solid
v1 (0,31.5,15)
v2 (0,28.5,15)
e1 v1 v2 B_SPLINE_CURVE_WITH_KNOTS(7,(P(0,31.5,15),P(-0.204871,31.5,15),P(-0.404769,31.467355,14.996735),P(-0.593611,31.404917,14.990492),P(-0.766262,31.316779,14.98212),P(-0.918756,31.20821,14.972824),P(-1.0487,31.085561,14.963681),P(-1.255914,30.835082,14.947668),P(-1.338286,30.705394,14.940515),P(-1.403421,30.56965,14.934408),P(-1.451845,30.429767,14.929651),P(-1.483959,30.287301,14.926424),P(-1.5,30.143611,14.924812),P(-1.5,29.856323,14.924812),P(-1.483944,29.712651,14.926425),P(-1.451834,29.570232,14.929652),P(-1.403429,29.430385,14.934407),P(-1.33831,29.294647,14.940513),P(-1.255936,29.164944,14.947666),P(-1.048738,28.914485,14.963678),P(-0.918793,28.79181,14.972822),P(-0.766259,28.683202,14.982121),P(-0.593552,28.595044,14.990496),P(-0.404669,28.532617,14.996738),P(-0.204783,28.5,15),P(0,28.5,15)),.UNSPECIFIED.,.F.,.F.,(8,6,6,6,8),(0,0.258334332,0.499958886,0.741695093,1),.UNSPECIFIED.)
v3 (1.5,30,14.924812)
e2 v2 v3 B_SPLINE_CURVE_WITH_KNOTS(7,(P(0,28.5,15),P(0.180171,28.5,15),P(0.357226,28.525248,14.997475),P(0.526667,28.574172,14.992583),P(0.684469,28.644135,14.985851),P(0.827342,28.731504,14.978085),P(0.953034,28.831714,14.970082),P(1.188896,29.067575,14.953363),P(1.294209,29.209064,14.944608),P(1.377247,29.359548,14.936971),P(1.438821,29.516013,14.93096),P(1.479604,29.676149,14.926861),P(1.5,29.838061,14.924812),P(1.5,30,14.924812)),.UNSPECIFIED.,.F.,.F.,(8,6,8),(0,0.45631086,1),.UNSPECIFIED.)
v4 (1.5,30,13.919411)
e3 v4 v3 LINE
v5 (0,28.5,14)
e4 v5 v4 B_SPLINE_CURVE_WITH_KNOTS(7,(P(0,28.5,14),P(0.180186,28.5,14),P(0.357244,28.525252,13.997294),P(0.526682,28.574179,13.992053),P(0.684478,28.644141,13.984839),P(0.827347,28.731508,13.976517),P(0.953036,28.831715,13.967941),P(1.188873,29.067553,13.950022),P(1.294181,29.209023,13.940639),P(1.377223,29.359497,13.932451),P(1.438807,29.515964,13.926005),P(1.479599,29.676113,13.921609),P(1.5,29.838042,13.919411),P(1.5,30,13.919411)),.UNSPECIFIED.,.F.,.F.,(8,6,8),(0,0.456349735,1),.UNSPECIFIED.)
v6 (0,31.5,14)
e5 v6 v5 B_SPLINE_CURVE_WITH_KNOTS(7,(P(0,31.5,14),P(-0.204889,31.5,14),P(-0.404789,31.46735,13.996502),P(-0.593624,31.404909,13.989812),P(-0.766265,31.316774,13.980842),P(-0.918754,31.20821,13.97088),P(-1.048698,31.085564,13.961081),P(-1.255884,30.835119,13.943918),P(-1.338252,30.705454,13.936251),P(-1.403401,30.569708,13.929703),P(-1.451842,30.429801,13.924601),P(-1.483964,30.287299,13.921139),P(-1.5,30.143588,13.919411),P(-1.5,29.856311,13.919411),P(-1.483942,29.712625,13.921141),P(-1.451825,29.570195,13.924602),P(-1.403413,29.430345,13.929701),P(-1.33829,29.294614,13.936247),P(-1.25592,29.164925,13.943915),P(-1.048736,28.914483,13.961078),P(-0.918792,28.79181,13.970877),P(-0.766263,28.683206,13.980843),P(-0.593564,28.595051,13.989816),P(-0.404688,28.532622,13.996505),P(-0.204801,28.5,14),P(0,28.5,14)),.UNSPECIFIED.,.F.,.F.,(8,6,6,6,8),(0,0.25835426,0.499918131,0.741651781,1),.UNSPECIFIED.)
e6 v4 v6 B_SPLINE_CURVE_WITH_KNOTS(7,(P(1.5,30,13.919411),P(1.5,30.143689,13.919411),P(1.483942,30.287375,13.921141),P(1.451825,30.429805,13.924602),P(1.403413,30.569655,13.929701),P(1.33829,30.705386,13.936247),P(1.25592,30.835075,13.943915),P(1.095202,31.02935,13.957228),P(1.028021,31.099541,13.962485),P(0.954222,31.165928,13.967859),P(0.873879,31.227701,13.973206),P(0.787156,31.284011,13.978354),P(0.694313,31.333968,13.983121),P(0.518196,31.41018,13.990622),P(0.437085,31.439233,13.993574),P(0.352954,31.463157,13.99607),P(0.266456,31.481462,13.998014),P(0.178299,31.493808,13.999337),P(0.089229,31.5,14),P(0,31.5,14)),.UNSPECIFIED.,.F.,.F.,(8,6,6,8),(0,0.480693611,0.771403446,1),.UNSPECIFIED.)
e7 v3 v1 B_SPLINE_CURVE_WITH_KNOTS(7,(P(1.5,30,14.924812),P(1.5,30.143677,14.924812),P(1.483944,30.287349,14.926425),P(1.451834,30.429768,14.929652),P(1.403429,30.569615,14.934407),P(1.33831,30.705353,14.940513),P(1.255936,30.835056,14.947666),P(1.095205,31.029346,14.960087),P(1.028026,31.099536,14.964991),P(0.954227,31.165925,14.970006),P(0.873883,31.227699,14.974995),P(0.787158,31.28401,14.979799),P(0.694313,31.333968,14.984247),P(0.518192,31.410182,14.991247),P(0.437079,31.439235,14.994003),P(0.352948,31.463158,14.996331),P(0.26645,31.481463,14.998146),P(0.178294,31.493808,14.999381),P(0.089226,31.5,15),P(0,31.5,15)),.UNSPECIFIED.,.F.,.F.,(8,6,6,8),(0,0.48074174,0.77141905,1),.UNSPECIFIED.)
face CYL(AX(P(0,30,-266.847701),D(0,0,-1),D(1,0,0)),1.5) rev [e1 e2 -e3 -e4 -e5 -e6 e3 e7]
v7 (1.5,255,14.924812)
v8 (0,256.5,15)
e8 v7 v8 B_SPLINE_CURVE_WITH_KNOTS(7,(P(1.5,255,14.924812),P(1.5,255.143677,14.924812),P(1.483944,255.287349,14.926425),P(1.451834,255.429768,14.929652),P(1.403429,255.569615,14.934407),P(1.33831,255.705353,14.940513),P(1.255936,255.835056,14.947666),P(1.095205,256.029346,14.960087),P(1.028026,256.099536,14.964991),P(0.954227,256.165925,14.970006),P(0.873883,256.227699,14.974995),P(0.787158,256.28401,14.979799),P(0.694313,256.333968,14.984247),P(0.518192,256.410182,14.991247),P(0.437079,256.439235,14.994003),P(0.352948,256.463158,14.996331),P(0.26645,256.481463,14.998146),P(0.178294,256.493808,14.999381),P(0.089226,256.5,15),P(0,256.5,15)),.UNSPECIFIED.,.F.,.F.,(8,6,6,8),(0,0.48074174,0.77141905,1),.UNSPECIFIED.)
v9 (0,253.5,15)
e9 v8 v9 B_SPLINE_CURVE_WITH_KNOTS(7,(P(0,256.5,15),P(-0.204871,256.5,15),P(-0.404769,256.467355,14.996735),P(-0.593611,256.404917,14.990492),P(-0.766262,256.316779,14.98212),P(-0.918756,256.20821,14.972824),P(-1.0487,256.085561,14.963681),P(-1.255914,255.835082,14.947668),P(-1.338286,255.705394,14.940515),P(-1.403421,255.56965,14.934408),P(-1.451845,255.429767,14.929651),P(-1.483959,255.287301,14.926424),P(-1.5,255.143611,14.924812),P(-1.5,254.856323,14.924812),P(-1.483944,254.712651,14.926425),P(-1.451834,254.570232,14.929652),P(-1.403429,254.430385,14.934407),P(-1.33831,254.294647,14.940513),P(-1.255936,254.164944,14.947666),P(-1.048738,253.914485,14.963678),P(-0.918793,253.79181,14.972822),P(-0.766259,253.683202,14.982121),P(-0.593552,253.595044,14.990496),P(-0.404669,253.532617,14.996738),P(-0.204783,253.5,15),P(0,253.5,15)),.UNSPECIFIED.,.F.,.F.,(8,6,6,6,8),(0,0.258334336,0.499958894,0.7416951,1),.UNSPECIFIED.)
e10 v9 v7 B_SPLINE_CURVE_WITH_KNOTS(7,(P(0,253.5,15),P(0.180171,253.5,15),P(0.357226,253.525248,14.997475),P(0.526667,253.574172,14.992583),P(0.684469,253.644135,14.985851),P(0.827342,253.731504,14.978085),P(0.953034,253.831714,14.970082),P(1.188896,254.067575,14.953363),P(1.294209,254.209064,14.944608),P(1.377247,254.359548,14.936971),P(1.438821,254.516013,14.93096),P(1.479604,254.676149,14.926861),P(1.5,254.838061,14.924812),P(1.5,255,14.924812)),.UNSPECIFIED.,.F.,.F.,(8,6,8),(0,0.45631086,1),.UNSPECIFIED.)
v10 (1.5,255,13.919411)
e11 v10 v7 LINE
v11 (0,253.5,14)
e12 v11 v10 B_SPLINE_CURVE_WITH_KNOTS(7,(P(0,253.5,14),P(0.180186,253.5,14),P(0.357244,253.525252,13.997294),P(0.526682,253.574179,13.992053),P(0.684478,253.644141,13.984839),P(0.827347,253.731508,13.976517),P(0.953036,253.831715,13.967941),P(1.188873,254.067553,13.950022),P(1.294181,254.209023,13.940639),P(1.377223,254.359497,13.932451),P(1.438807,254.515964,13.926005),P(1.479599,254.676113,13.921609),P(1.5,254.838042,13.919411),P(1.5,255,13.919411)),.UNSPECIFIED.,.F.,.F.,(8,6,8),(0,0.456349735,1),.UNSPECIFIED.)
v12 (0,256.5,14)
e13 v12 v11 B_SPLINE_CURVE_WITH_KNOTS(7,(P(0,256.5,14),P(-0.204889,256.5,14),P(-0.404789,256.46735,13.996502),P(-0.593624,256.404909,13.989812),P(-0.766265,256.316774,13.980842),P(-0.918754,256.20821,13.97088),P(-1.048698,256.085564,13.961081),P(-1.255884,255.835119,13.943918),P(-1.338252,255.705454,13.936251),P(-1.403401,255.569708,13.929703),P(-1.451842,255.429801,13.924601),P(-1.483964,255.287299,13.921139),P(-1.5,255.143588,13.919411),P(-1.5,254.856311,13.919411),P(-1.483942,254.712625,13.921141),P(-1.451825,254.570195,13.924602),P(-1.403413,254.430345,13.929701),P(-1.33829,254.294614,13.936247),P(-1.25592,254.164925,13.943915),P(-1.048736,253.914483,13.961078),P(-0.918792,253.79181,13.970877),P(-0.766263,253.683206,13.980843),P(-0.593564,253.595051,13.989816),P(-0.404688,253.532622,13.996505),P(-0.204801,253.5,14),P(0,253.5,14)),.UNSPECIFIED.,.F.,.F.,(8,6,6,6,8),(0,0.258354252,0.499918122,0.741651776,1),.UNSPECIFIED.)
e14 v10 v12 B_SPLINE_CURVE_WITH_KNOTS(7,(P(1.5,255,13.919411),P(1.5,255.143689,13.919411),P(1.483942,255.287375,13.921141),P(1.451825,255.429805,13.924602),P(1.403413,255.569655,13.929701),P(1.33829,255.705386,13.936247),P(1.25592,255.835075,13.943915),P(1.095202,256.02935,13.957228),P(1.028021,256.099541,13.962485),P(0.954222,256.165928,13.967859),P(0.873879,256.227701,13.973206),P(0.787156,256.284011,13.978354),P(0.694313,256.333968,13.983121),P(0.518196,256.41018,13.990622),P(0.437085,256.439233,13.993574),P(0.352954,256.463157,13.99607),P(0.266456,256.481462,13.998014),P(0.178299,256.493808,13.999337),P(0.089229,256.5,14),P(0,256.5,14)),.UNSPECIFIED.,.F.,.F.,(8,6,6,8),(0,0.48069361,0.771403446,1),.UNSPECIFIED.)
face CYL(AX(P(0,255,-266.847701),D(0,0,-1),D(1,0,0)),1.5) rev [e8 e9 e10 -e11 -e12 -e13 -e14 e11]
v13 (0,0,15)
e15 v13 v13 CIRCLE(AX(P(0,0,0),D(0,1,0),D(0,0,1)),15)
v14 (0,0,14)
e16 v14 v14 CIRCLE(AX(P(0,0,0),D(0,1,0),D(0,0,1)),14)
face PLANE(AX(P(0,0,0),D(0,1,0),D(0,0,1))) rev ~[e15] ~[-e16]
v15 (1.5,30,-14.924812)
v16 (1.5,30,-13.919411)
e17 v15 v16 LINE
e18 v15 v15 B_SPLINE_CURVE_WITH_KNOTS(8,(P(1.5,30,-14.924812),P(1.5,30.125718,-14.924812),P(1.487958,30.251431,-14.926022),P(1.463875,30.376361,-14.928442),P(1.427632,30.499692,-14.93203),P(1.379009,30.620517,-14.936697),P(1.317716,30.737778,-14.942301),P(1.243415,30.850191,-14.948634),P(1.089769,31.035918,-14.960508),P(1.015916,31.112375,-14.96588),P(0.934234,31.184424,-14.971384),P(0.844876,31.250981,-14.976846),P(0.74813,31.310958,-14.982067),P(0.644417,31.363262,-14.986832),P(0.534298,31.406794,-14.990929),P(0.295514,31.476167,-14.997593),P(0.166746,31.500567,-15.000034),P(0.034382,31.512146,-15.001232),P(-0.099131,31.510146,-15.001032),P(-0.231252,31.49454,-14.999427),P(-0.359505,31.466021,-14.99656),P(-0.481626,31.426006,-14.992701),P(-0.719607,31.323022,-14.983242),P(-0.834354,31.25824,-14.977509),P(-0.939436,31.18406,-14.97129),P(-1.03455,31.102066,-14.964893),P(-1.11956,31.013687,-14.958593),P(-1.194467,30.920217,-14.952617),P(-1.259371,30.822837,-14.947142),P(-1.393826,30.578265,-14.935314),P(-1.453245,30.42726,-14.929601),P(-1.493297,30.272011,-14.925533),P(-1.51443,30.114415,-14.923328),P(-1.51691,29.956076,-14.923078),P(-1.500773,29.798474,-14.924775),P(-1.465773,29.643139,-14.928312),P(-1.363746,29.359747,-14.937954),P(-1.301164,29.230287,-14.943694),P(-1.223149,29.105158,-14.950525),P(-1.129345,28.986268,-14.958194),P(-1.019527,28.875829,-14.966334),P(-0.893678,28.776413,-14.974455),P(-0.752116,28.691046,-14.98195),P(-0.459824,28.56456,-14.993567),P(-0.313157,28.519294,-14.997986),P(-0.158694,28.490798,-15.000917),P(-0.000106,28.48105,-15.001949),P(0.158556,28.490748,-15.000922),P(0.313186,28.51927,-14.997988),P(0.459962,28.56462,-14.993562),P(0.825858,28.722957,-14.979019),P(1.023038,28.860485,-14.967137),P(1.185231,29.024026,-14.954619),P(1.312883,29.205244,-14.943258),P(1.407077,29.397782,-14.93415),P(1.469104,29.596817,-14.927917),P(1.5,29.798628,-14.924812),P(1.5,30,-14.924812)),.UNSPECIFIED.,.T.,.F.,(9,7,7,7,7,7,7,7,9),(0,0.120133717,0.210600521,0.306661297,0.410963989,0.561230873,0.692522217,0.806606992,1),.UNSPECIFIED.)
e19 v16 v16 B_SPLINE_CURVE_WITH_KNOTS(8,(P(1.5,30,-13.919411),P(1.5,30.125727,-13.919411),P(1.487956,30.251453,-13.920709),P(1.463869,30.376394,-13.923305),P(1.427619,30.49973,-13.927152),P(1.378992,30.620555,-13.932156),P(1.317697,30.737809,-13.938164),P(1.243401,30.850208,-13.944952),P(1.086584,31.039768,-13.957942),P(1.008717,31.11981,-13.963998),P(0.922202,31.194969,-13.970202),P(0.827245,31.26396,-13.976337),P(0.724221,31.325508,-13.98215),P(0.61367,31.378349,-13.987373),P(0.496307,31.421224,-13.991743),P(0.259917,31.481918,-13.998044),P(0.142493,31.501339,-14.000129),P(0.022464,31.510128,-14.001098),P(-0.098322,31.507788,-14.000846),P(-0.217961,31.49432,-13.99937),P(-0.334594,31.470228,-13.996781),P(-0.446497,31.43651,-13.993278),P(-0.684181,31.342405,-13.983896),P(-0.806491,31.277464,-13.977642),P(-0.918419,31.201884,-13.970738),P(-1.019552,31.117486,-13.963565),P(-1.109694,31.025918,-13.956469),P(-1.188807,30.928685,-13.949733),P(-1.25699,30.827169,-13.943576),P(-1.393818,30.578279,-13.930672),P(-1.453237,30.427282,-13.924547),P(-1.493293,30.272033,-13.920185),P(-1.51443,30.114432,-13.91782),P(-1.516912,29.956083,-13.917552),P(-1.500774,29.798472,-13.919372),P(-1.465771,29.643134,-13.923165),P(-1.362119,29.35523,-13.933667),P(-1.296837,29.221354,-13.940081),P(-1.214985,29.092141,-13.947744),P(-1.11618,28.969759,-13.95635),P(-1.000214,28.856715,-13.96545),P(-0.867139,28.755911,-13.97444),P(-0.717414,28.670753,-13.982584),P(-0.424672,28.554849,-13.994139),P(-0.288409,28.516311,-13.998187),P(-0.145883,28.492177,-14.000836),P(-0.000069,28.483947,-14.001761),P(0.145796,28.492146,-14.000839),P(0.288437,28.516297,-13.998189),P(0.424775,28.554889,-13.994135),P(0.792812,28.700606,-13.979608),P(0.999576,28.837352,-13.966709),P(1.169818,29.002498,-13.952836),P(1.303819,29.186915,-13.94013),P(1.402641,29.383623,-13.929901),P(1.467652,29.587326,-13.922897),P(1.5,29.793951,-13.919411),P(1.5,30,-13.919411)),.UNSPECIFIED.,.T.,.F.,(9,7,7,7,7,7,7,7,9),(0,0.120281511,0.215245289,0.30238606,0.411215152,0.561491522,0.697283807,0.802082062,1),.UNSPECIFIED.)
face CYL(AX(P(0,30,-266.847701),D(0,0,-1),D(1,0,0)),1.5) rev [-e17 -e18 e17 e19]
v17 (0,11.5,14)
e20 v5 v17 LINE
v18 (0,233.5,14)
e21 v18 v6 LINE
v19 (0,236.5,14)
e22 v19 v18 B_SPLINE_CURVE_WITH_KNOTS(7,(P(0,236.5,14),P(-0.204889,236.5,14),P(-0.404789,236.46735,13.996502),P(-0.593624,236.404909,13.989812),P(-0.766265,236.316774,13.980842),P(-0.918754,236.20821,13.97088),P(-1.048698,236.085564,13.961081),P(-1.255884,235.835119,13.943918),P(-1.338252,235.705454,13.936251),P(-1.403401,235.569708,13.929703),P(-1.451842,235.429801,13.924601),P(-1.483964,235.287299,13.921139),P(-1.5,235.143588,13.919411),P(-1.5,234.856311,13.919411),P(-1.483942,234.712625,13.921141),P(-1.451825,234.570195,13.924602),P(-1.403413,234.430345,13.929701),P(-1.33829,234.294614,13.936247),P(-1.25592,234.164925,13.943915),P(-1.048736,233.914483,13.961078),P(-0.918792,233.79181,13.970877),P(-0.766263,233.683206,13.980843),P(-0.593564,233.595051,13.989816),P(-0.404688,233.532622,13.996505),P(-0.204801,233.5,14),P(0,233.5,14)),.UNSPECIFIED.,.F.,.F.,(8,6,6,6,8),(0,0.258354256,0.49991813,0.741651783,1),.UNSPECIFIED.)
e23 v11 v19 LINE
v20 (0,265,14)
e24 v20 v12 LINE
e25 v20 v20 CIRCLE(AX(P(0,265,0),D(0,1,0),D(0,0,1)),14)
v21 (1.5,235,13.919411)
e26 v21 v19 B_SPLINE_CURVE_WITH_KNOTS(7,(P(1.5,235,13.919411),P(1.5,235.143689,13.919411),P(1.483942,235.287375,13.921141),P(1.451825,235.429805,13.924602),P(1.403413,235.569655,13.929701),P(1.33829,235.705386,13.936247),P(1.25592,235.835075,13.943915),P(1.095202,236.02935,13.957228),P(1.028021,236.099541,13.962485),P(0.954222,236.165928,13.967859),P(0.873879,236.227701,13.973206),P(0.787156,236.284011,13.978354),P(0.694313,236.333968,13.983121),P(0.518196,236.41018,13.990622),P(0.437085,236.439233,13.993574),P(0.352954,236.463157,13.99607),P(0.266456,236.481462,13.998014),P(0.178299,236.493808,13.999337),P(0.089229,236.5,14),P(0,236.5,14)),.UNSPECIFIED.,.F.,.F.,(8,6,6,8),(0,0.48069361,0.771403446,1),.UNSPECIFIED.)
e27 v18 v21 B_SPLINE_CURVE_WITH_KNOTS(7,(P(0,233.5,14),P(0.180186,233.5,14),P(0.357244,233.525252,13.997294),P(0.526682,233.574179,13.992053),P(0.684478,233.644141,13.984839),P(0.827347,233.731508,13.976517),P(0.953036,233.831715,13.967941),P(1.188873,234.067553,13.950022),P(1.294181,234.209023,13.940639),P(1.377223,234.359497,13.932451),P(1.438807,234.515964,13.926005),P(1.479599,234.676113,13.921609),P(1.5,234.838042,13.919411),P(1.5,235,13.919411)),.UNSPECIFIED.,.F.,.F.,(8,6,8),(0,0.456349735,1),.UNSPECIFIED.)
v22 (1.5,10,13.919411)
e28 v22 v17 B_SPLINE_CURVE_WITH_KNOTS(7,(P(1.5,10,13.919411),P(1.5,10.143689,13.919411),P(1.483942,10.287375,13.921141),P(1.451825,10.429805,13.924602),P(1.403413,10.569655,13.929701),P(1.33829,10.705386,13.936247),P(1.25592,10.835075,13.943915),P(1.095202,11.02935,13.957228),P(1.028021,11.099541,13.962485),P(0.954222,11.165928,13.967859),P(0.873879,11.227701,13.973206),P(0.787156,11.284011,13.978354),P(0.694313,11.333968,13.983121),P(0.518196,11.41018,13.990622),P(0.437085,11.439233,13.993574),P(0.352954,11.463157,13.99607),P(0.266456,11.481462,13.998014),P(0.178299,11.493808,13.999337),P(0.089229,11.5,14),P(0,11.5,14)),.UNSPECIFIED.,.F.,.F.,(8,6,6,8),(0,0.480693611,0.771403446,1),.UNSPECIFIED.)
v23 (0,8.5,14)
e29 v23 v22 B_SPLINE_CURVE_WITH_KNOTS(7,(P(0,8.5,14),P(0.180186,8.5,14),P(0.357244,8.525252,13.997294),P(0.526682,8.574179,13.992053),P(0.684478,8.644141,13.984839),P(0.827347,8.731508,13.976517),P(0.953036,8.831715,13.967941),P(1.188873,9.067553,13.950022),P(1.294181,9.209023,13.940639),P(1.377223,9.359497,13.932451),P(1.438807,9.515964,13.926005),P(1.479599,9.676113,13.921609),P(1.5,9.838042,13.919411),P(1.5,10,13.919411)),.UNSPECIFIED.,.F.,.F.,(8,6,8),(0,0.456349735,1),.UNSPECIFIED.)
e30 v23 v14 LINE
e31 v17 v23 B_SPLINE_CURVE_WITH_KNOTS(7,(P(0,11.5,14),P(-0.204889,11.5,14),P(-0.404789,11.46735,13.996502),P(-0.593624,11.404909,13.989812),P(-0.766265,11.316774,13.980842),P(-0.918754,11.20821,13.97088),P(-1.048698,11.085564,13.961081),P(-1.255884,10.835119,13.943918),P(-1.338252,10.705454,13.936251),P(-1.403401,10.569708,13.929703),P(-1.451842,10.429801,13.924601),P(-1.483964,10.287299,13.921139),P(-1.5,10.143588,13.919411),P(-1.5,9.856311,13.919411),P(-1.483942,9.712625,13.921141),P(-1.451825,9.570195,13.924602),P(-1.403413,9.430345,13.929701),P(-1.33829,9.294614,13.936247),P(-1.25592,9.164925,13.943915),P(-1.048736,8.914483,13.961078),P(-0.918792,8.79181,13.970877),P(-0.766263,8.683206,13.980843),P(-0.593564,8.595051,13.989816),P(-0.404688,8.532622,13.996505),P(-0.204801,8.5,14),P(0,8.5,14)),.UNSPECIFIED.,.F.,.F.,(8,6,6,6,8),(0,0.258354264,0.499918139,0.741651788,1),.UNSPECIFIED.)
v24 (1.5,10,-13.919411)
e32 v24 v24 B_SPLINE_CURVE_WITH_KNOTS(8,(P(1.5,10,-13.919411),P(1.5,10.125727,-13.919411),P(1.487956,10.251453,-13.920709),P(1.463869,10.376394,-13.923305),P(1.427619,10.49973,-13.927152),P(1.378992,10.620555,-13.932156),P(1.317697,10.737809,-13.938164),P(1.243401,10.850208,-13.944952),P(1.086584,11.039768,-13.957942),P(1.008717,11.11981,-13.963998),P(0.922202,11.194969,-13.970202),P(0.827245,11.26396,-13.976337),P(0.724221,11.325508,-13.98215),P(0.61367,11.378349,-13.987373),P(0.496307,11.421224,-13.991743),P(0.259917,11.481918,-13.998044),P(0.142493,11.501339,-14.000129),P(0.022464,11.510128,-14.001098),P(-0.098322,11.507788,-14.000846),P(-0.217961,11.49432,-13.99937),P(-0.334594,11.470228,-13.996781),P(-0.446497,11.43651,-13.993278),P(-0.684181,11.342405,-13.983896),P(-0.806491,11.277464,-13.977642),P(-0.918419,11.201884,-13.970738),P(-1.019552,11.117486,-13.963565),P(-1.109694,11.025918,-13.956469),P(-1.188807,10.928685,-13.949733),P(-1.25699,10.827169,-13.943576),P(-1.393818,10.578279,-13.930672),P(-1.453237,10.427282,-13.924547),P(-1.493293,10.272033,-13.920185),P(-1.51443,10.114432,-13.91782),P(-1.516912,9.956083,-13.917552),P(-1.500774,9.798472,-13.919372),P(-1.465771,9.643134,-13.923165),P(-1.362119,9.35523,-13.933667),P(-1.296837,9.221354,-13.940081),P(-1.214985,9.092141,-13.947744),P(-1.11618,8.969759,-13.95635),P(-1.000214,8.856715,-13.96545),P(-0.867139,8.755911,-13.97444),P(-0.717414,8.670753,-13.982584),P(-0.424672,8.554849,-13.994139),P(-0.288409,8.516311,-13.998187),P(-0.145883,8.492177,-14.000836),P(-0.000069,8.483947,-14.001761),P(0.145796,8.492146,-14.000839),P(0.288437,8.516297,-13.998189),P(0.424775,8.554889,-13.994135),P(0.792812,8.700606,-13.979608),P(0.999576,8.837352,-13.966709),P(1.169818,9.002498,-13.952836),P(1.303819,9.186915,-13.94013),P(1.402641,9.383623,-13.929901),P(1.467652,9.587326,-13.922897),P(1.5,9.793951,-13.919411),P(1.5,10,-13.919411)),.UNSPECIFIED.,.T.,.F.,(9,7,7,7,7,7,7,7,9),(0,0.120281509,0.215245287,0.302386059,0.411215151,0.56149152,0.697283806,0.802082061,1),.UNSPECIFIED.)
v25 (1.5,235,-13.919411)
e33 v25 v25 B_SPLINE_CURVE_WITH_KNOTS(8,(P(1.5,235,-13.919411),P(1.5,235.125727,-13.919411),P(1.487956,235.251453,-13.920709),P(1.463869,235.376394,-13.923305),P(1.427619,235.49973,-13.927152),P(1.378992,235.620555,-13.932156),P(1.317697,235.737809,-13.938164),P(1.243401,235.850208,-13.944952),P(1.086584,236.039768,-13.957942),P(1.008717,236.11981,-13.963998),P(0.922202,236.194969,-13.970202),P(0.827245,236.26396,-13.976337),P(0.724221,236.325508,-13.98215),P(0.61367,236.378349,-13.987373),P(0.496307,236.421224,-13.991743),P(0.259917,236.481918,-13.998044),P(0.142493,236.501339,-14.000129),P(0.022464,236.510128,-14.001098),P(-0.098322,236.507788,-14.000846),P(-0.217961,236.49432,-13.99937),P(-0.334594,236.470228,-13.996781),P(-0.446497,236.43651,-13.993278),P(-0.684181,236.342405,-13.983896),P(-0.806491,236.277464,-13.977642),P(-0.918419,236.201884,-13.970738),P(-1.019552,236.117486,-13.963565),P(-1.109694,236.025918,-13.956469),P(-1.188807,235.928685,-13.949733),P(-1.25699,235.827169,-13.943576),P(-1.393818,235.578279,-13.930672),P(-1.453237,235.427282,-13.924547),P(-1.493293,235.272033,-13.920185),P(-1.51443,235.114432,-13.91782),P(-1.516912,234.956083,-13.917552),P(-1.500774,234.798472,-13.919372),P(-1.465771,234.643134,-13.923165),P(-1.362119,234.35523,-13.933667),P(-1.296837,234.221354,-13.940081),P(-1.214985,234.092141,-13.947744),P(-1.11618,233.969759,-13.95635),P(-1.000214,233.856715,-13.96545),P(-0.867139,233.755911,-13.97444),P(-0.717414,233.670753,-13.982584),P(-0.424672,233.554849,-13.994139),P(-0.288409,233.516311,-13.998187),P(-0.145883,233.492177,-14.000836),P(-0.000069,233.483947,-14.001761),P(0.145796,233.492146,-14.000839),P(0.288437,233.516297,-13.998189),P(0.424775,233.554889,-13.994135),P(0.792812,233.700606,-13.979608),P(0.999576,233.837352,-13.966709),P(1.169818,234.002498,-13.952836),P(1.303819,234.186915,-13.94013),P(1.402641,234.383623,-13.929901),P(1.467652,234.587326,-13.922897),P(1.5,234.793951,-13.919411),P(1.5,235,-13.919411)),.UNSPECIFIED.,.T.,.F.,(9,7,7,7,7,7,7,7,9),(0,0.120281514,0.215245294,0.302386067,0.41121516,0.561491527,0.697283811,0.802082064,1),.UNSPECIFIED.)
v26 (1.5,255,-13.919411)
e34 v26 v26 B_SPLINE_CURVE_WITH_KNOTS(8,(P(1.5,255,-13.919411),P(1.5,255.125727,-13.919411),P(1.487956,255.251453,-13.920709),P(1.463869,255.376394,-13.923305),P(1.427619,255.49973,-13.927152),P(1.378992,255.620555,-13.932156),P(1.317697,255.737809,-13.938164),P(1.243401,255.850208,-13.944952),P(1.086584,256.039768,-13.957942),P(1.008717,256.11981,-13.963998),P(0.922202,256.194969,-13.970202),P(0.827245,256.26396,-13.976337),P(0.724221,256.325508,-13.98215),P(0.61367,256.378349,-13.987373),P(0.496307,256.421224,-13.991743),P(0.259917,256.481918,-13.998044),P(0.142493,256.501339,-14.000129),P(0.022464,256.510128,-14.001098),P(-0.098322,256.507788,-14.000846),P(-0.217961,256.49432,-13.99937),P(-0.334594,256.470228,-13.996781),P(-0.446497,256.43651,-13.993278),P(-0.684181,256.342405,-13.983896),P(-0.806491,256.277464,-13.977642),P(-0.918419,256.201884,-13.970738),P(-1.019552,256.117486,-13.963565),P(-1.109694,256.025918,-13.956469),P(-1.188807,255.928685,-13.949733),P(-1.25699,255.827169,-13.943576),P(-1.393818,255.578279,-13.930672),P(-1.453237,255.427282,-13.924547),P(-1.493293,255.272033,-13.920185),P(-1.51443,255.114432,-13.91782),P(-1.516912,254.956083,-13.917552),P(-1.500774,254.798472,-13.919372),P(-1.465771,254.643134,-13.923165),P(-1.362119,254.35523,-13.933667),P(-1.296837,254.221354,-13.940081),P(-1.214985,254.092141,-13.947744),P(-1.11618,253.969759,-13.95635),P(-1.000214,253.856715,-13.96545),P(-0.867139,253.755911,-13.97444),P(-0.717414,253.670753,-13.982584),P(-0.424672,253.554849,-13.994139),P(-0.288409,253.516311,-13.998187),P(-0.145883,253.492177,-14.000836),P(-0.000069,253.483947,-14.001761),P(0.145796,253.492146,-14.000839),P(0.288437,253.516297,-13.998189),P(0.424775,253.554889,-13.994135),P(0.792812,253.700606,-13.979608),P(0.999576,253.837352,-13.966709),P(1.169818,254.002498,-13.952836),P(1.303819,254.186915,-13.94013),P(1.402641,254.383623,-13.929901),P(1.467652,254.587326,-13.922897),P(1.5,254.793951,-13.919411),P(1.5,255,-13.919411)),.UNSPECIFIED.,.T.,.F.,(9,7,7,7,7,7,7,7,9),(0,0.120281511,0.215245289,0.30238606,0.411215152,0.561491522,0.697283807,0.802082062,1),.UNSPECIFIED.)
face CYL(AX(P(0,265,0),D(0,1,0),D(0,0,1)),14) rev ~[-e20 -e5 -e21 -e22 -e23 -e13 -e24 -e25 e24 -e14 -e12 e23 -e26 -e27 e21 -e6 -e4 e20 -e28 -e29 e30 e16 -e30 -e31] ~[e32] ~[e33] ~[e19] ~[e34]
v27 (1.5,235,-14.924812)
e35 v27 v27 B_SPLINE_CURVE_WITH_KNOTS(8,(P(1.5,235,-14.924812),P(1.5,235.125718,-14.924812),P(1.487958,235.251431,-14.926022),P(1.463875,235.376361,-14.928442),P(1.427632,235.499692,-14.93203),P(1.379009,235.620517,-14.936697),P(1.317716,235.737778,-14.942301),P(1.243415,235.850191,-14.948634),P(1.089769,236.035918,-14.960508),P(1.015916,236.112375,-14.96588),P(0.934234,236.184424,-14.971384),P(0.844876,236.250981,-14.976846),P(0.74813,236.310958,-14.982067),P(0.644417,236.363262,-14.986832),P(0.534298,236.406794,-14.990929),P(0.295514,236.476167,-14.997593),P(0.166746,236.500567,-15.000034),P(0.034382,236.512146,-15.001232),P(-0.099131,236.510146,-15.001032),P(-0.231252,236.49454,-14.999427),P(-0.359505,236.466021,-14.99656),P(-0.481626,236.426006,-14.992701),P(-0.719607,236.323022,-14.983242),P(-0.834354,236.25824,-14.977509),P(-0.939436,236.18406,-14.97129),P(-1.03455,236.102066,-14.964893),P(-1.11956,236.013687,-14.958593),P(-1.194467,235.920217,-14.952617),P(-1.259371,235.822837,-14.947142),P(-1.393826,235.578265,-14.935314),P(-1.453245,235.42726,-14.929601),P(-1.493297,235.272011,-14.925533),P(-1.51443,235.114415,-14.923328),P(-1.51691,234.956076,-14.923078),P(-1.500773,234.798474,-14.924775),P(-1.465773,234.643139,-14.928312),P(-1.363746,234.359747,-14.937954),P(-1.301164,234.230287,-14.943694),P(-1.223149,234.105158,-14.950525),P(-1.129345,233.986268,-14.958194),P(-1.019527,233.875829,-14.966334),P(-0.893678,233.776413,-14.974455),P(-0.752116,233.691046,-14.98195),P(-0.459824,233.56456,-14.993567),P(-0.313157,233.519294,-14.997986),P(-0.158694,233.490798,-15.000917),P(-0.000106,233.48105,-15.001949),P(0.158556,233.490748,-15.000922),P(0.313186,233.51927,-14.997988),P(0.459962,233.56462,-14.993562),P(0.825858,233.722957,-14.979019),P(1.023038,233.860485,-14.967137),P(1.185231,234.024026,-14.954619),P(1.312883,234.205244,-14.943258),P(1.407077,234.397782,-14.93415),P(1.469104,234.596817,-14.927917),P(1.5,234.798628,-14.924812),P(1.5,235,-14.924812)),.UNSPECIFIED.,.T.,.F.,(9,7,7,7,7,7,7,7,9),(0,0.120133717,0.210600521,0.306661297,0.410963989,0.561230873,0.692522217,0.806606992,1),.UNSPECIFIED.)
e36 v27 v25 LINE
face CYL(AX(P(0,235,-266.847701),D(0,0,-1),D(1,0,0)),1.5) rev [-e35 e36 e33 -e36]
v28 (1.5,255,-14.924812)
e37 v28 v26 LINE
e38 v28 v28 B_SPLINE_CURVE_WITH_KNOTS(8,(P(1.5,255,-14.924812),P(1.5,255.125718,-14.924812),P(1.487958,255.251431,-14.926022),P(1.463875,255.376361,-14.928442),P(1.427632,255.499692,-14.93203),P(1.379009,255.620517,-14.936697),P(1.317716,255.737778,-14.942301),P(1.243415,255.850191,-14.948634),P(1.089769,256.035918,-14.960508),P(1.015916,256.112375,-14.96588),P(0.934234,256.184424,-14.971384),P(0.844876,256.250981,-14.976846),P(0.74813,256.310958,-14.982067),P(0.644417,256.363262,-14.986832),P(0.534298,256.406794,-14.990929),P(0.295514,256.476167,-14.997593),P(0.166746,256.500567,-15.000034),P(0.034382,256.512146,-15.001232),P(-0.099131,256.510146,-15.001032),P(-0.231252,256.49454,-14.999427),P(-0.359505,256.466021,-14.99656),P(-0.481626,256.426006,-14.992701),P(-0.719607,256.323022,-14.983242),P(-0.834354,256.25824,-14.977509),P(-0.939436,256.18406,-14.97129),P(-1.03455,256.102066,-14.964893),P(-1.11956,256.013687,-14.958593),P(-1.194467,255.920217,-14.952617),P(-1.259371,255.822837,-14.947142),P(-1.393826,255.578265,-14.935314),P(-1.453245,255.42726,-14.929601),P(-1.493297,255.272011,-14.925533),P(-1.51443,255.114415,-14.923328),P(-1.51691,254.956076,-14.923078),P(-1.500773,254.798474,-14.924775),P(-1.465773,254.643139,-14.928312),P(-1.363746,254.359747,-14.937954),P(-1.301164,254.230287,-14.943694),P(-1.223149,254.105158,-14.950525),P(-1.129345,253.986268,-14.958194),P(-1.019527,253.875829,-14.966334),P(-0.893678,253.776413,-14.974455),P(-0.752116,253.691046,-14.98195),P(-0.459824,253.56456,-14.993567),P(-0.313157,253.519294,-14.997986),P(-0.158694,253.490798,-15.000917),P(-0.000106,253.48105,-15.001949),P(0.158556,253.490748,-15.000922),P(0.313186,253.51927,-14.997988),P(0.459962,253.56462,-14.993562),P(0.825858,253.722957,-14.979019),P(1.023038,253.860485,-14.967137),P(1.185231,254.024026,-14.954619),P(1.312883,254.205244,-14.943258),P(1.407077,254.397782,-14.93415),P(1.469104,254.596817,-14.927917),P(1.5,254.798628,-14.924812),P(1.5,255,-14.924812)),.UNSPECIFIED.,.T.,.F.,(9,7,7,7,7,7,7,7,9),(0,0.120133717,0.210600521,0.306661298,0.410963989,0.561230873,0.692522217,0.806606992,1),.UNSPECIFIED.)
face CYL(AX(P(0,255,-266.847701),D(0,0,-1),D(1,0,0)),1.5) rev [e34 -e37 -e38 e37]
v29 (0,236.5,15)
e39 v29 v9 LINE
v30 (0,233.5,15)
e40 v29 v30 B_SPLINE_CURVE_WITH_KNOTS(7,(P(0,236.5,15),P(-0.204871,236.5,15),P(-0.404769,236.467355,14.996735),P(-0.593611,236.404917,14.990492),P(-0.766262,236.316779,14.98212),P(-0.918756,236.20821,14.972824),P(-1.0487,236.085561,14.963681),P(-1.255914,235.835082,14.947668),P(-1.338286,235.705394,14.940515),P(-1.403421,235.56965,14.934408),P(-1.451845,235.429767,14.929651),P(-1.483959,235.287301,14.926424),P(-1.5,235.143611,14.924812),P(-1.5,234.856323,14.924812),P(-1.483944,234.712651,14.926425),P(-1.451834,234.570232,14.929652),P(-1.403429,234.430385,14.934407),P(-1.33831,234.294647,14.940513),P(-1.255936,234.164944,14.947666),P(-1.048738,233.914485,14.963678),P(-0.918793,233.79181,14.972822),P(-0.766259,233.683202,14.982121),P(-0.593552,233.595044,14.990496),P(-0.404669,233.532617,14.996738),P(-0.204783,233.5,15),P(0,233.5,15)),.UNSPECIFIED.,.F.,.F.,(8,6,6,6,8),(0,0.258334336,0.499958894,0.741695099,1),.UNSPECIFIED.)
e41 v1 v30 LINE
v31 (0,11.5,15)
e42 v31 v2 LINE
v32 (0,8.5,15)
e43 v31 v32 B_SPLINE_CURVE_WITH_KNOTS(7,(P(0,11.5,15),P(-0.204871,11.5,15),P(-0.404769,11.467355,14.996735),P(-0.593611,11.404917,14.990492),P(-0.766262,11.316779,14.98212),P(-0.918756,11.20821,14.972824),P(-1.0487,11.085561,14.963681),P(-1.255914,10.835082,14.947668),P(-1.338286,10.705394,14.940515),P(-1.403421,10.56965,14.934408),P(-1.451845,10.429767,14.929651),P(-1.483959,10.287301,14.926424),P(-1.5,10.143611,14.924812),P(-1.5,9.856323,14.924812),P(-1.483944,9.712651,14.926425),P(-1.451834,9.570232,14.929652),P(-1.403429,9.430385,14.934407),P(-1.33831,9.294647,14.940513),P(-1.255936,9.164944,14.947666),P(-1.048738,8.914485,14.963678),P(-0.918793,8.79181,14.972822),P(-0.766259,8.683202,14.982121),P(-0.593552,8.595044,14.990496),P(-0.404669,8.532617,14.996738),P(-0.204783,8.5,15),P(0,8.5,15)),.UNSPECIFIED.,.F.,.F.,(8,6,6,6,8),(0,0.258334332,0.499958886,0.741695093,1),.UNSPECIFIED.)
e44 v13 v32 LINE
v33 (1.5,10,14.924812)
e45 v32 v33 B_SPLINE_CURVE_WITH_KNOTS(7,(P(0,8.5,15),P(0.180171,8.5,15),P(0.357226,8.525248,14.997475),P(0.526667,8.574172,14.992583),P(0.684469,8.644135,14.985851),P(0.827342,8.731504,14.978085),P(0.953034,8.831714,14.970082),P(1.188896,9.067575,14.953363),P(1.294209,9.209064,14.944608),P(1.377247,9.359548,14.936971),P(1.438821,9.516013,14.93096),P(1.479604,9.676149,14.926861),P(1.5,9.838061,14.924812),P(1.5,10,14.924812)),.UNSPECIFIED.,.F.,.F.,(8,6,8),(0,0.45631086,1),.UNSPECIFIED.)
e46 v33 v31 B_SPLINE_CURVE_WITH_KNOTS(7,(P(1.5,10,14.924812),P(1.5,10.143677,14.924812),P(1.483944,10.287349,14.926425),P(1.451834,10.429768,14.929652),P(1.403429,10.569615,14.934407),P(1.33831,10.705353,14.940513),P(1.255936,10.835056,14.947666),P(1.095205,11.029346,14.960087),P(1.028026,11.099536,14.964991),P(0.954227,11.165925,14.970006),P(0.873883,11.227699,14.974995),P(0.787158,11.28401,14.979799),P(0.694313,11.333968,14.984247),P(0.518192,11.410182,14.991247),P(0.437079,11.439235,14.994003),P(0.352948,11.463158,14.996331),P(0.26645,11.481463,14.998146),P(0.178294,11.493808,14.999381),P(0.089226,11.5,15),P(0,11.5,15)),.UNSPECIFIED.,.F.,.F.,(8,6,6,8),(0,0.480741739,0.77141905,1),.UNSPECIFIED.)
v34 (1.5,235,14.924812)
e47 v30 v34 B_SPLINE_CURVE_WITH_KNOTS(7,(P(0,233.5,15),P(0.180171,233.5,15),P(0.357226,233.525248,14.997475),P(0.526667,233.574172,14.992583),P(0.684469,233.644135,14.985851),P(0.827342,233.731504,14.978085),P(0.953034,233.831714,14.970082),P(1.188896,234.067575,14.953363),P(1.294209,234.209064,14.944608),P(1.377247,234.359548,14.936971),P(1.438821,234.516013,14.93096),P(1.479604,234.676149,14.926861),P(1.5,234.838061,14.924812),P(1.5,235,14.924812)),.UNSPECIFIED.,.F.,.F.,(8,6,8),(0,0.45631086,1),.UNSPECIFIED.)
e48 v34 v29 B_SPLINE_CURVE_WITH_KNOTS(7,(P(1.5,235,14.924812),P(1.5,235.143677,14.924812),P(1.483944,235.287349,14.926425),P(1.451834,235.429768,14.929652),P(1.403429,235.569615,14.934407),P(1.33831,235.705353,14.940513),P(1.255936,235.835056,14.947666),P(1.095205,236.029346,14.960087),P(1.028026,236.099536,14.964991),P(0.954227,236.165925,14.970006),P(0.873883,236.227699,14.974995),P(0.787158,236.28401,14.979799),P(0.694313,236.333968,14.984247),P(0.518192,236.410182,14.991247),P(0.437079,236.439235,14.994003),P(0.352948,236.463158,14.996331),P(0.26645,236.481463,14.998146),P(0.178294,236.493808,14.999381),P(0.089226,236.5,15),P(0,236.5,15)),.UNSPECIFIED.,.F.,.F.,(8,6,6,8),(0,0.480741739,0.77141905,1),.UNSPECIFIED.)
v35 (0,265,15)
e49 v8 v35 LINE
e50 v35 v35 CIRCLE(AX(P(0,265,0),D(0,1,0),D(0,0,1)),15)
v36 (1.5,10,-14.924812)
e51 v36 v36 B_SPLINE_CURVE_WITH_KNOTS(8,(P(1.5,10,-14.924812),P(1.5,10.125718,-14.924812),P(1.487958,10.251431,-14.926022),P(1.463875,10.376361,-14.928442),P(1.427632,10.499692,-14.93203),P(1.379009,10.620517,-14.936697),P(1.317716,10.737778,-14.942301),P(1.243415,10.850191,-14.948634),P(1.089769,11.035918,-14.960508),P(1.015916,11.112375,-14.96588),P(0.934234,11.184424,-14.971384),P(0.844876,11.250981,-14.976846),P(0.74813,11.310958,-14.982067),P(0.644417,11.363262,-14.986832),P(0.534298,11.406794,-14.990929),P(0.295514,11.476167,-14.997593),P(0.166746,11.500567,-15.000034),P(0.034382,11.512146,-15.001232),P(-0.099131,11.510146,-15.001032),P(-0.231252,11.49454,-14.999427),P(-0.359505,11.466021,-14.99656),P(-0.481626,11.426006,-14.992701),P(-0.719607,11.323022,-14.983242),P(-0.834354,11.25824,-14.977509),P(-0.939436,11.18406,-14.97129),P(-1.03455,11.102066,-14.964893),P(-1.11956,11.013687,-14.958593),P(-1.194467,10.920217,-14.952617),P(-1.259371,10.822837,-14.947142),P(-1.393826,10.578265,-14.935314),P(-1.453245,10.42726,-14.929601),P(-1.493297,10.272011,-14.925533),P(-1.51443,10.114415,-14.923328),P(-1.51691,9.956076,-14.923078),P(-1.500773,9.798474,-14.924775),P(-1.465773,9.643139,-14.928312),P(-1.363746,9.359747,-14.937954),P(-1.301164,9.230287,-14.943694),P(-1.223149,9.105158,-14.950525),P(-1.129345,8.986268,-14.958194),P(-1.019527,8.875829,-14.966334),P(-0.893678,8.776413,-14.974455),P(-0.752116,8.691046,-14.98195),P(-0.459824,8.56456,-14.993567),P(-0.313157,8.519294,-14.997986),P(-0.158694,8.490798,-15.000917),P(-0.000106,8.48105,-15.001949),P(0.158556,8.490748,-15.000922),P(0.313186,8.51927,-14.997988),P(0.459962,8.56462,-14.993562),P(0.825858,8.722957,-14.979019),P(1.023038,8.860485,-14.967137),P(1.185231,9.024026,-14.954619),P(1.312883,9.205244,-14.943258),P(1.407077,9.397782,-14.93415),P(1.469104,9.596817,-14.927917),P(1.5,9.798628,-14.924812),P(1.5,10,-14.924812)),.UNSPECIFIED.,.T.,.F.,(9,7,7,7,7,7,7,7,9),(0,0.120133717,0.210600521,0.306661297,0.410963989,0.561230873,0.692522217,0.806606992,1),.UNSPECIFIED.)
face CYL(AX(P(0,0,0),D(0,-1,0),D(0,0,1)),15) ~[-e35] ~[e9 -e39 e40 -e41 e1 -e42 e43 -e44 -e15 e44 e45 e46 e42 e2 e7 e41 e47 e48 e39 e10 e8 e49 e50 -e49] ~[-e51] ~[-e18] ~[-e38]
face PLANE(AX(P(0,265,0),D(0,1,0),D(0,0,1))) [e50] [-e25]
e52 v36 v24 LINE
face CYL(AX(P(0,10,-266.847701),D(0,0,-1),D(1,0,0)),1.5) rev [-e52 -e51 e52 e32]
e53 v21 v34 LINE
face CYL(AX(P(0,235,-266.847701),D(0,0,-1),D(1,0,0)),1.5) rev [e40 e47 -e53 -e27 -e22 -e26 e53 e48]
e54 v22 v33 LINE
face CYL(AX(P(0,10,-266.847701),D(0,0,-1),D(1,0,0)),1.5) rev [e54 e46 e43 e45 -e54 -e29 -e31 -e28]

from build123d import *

# Parameters (mm, degrees)
SKETCH_1_R               = 15
EXTRUDE_1_DEPTH          = 265
CUT_EXTRUDE_1_DEPTH      = 266.847700761
CUT_EXTRUDE_1_DEPTH_BACK = 266.847700761
SKETCH_2_R               = 1.5
CUT_EXTRUDE_2_REACH      = 267.848
SKETCH_3_R               = 14


with BuildPart() as part:
    # 草圖1 → 填料-伸長1 (new body)
    with BuildSketch(Plane(origin=(0, 0, 0), x_dir=(1, 0, 0), z_dir=(0, 1, 0))):
        with Locations(Location((0, 0, 0), (0, 0, 270))):
            Circle(SKETCH_1_R)
    extrude(amount=EXTRUDE_1_DEPTH)

    # 草圖2 → 除料-伸長1 (cut, two sides: drawn at the far end of the back side and taken through both)
    with BuildSketch(Plane.XY.offset(-CUT_EXTRUDE_1_DEPTH_BACK)):
        with Locations((0, 255)):
            Circle(SKETCH_2_R)
        with Locations((0, 235)):
            Circle(SKETCH_2_R)
        with Locations((0, 10)):
            Circle(SKETCH_2_R)
        with Locations((0, 30)):
            Circle(SKETCH_2_R)
    extrude(amount=CUT_EXTRUDE_1_DEPTH + CUT_EXTRUDE_1_DEPTH_BACK, mode=Mode.SUBTRACT)

    # 草圖3 → 除料-伸長2 (cut, up to next)
    with BuildSketch(Plane(origin=(0, 265, 0), x_dir=(1, 0, 0), z_dir=(0, 1, 0)), mode=Mode.PRIVATE) as cut_extrude_2_sk1:
        with Locations(Location((0, 0, 0), (0, 0, 270))):
            Circle(SKETCH_3_R)
    cut_extrude_2_tool1 = extrude(cut_extrude_2_sk1.sketch, amount=-CUT_EXTRUDE_2_REACH, mode=Mode.PRIVATE) & part.part
    add(cut_extrude_2_tool1.solids().sort_by_distance((0, 265, 0))[0], mode=Mode.SUBTRACT)


solid = part.part
